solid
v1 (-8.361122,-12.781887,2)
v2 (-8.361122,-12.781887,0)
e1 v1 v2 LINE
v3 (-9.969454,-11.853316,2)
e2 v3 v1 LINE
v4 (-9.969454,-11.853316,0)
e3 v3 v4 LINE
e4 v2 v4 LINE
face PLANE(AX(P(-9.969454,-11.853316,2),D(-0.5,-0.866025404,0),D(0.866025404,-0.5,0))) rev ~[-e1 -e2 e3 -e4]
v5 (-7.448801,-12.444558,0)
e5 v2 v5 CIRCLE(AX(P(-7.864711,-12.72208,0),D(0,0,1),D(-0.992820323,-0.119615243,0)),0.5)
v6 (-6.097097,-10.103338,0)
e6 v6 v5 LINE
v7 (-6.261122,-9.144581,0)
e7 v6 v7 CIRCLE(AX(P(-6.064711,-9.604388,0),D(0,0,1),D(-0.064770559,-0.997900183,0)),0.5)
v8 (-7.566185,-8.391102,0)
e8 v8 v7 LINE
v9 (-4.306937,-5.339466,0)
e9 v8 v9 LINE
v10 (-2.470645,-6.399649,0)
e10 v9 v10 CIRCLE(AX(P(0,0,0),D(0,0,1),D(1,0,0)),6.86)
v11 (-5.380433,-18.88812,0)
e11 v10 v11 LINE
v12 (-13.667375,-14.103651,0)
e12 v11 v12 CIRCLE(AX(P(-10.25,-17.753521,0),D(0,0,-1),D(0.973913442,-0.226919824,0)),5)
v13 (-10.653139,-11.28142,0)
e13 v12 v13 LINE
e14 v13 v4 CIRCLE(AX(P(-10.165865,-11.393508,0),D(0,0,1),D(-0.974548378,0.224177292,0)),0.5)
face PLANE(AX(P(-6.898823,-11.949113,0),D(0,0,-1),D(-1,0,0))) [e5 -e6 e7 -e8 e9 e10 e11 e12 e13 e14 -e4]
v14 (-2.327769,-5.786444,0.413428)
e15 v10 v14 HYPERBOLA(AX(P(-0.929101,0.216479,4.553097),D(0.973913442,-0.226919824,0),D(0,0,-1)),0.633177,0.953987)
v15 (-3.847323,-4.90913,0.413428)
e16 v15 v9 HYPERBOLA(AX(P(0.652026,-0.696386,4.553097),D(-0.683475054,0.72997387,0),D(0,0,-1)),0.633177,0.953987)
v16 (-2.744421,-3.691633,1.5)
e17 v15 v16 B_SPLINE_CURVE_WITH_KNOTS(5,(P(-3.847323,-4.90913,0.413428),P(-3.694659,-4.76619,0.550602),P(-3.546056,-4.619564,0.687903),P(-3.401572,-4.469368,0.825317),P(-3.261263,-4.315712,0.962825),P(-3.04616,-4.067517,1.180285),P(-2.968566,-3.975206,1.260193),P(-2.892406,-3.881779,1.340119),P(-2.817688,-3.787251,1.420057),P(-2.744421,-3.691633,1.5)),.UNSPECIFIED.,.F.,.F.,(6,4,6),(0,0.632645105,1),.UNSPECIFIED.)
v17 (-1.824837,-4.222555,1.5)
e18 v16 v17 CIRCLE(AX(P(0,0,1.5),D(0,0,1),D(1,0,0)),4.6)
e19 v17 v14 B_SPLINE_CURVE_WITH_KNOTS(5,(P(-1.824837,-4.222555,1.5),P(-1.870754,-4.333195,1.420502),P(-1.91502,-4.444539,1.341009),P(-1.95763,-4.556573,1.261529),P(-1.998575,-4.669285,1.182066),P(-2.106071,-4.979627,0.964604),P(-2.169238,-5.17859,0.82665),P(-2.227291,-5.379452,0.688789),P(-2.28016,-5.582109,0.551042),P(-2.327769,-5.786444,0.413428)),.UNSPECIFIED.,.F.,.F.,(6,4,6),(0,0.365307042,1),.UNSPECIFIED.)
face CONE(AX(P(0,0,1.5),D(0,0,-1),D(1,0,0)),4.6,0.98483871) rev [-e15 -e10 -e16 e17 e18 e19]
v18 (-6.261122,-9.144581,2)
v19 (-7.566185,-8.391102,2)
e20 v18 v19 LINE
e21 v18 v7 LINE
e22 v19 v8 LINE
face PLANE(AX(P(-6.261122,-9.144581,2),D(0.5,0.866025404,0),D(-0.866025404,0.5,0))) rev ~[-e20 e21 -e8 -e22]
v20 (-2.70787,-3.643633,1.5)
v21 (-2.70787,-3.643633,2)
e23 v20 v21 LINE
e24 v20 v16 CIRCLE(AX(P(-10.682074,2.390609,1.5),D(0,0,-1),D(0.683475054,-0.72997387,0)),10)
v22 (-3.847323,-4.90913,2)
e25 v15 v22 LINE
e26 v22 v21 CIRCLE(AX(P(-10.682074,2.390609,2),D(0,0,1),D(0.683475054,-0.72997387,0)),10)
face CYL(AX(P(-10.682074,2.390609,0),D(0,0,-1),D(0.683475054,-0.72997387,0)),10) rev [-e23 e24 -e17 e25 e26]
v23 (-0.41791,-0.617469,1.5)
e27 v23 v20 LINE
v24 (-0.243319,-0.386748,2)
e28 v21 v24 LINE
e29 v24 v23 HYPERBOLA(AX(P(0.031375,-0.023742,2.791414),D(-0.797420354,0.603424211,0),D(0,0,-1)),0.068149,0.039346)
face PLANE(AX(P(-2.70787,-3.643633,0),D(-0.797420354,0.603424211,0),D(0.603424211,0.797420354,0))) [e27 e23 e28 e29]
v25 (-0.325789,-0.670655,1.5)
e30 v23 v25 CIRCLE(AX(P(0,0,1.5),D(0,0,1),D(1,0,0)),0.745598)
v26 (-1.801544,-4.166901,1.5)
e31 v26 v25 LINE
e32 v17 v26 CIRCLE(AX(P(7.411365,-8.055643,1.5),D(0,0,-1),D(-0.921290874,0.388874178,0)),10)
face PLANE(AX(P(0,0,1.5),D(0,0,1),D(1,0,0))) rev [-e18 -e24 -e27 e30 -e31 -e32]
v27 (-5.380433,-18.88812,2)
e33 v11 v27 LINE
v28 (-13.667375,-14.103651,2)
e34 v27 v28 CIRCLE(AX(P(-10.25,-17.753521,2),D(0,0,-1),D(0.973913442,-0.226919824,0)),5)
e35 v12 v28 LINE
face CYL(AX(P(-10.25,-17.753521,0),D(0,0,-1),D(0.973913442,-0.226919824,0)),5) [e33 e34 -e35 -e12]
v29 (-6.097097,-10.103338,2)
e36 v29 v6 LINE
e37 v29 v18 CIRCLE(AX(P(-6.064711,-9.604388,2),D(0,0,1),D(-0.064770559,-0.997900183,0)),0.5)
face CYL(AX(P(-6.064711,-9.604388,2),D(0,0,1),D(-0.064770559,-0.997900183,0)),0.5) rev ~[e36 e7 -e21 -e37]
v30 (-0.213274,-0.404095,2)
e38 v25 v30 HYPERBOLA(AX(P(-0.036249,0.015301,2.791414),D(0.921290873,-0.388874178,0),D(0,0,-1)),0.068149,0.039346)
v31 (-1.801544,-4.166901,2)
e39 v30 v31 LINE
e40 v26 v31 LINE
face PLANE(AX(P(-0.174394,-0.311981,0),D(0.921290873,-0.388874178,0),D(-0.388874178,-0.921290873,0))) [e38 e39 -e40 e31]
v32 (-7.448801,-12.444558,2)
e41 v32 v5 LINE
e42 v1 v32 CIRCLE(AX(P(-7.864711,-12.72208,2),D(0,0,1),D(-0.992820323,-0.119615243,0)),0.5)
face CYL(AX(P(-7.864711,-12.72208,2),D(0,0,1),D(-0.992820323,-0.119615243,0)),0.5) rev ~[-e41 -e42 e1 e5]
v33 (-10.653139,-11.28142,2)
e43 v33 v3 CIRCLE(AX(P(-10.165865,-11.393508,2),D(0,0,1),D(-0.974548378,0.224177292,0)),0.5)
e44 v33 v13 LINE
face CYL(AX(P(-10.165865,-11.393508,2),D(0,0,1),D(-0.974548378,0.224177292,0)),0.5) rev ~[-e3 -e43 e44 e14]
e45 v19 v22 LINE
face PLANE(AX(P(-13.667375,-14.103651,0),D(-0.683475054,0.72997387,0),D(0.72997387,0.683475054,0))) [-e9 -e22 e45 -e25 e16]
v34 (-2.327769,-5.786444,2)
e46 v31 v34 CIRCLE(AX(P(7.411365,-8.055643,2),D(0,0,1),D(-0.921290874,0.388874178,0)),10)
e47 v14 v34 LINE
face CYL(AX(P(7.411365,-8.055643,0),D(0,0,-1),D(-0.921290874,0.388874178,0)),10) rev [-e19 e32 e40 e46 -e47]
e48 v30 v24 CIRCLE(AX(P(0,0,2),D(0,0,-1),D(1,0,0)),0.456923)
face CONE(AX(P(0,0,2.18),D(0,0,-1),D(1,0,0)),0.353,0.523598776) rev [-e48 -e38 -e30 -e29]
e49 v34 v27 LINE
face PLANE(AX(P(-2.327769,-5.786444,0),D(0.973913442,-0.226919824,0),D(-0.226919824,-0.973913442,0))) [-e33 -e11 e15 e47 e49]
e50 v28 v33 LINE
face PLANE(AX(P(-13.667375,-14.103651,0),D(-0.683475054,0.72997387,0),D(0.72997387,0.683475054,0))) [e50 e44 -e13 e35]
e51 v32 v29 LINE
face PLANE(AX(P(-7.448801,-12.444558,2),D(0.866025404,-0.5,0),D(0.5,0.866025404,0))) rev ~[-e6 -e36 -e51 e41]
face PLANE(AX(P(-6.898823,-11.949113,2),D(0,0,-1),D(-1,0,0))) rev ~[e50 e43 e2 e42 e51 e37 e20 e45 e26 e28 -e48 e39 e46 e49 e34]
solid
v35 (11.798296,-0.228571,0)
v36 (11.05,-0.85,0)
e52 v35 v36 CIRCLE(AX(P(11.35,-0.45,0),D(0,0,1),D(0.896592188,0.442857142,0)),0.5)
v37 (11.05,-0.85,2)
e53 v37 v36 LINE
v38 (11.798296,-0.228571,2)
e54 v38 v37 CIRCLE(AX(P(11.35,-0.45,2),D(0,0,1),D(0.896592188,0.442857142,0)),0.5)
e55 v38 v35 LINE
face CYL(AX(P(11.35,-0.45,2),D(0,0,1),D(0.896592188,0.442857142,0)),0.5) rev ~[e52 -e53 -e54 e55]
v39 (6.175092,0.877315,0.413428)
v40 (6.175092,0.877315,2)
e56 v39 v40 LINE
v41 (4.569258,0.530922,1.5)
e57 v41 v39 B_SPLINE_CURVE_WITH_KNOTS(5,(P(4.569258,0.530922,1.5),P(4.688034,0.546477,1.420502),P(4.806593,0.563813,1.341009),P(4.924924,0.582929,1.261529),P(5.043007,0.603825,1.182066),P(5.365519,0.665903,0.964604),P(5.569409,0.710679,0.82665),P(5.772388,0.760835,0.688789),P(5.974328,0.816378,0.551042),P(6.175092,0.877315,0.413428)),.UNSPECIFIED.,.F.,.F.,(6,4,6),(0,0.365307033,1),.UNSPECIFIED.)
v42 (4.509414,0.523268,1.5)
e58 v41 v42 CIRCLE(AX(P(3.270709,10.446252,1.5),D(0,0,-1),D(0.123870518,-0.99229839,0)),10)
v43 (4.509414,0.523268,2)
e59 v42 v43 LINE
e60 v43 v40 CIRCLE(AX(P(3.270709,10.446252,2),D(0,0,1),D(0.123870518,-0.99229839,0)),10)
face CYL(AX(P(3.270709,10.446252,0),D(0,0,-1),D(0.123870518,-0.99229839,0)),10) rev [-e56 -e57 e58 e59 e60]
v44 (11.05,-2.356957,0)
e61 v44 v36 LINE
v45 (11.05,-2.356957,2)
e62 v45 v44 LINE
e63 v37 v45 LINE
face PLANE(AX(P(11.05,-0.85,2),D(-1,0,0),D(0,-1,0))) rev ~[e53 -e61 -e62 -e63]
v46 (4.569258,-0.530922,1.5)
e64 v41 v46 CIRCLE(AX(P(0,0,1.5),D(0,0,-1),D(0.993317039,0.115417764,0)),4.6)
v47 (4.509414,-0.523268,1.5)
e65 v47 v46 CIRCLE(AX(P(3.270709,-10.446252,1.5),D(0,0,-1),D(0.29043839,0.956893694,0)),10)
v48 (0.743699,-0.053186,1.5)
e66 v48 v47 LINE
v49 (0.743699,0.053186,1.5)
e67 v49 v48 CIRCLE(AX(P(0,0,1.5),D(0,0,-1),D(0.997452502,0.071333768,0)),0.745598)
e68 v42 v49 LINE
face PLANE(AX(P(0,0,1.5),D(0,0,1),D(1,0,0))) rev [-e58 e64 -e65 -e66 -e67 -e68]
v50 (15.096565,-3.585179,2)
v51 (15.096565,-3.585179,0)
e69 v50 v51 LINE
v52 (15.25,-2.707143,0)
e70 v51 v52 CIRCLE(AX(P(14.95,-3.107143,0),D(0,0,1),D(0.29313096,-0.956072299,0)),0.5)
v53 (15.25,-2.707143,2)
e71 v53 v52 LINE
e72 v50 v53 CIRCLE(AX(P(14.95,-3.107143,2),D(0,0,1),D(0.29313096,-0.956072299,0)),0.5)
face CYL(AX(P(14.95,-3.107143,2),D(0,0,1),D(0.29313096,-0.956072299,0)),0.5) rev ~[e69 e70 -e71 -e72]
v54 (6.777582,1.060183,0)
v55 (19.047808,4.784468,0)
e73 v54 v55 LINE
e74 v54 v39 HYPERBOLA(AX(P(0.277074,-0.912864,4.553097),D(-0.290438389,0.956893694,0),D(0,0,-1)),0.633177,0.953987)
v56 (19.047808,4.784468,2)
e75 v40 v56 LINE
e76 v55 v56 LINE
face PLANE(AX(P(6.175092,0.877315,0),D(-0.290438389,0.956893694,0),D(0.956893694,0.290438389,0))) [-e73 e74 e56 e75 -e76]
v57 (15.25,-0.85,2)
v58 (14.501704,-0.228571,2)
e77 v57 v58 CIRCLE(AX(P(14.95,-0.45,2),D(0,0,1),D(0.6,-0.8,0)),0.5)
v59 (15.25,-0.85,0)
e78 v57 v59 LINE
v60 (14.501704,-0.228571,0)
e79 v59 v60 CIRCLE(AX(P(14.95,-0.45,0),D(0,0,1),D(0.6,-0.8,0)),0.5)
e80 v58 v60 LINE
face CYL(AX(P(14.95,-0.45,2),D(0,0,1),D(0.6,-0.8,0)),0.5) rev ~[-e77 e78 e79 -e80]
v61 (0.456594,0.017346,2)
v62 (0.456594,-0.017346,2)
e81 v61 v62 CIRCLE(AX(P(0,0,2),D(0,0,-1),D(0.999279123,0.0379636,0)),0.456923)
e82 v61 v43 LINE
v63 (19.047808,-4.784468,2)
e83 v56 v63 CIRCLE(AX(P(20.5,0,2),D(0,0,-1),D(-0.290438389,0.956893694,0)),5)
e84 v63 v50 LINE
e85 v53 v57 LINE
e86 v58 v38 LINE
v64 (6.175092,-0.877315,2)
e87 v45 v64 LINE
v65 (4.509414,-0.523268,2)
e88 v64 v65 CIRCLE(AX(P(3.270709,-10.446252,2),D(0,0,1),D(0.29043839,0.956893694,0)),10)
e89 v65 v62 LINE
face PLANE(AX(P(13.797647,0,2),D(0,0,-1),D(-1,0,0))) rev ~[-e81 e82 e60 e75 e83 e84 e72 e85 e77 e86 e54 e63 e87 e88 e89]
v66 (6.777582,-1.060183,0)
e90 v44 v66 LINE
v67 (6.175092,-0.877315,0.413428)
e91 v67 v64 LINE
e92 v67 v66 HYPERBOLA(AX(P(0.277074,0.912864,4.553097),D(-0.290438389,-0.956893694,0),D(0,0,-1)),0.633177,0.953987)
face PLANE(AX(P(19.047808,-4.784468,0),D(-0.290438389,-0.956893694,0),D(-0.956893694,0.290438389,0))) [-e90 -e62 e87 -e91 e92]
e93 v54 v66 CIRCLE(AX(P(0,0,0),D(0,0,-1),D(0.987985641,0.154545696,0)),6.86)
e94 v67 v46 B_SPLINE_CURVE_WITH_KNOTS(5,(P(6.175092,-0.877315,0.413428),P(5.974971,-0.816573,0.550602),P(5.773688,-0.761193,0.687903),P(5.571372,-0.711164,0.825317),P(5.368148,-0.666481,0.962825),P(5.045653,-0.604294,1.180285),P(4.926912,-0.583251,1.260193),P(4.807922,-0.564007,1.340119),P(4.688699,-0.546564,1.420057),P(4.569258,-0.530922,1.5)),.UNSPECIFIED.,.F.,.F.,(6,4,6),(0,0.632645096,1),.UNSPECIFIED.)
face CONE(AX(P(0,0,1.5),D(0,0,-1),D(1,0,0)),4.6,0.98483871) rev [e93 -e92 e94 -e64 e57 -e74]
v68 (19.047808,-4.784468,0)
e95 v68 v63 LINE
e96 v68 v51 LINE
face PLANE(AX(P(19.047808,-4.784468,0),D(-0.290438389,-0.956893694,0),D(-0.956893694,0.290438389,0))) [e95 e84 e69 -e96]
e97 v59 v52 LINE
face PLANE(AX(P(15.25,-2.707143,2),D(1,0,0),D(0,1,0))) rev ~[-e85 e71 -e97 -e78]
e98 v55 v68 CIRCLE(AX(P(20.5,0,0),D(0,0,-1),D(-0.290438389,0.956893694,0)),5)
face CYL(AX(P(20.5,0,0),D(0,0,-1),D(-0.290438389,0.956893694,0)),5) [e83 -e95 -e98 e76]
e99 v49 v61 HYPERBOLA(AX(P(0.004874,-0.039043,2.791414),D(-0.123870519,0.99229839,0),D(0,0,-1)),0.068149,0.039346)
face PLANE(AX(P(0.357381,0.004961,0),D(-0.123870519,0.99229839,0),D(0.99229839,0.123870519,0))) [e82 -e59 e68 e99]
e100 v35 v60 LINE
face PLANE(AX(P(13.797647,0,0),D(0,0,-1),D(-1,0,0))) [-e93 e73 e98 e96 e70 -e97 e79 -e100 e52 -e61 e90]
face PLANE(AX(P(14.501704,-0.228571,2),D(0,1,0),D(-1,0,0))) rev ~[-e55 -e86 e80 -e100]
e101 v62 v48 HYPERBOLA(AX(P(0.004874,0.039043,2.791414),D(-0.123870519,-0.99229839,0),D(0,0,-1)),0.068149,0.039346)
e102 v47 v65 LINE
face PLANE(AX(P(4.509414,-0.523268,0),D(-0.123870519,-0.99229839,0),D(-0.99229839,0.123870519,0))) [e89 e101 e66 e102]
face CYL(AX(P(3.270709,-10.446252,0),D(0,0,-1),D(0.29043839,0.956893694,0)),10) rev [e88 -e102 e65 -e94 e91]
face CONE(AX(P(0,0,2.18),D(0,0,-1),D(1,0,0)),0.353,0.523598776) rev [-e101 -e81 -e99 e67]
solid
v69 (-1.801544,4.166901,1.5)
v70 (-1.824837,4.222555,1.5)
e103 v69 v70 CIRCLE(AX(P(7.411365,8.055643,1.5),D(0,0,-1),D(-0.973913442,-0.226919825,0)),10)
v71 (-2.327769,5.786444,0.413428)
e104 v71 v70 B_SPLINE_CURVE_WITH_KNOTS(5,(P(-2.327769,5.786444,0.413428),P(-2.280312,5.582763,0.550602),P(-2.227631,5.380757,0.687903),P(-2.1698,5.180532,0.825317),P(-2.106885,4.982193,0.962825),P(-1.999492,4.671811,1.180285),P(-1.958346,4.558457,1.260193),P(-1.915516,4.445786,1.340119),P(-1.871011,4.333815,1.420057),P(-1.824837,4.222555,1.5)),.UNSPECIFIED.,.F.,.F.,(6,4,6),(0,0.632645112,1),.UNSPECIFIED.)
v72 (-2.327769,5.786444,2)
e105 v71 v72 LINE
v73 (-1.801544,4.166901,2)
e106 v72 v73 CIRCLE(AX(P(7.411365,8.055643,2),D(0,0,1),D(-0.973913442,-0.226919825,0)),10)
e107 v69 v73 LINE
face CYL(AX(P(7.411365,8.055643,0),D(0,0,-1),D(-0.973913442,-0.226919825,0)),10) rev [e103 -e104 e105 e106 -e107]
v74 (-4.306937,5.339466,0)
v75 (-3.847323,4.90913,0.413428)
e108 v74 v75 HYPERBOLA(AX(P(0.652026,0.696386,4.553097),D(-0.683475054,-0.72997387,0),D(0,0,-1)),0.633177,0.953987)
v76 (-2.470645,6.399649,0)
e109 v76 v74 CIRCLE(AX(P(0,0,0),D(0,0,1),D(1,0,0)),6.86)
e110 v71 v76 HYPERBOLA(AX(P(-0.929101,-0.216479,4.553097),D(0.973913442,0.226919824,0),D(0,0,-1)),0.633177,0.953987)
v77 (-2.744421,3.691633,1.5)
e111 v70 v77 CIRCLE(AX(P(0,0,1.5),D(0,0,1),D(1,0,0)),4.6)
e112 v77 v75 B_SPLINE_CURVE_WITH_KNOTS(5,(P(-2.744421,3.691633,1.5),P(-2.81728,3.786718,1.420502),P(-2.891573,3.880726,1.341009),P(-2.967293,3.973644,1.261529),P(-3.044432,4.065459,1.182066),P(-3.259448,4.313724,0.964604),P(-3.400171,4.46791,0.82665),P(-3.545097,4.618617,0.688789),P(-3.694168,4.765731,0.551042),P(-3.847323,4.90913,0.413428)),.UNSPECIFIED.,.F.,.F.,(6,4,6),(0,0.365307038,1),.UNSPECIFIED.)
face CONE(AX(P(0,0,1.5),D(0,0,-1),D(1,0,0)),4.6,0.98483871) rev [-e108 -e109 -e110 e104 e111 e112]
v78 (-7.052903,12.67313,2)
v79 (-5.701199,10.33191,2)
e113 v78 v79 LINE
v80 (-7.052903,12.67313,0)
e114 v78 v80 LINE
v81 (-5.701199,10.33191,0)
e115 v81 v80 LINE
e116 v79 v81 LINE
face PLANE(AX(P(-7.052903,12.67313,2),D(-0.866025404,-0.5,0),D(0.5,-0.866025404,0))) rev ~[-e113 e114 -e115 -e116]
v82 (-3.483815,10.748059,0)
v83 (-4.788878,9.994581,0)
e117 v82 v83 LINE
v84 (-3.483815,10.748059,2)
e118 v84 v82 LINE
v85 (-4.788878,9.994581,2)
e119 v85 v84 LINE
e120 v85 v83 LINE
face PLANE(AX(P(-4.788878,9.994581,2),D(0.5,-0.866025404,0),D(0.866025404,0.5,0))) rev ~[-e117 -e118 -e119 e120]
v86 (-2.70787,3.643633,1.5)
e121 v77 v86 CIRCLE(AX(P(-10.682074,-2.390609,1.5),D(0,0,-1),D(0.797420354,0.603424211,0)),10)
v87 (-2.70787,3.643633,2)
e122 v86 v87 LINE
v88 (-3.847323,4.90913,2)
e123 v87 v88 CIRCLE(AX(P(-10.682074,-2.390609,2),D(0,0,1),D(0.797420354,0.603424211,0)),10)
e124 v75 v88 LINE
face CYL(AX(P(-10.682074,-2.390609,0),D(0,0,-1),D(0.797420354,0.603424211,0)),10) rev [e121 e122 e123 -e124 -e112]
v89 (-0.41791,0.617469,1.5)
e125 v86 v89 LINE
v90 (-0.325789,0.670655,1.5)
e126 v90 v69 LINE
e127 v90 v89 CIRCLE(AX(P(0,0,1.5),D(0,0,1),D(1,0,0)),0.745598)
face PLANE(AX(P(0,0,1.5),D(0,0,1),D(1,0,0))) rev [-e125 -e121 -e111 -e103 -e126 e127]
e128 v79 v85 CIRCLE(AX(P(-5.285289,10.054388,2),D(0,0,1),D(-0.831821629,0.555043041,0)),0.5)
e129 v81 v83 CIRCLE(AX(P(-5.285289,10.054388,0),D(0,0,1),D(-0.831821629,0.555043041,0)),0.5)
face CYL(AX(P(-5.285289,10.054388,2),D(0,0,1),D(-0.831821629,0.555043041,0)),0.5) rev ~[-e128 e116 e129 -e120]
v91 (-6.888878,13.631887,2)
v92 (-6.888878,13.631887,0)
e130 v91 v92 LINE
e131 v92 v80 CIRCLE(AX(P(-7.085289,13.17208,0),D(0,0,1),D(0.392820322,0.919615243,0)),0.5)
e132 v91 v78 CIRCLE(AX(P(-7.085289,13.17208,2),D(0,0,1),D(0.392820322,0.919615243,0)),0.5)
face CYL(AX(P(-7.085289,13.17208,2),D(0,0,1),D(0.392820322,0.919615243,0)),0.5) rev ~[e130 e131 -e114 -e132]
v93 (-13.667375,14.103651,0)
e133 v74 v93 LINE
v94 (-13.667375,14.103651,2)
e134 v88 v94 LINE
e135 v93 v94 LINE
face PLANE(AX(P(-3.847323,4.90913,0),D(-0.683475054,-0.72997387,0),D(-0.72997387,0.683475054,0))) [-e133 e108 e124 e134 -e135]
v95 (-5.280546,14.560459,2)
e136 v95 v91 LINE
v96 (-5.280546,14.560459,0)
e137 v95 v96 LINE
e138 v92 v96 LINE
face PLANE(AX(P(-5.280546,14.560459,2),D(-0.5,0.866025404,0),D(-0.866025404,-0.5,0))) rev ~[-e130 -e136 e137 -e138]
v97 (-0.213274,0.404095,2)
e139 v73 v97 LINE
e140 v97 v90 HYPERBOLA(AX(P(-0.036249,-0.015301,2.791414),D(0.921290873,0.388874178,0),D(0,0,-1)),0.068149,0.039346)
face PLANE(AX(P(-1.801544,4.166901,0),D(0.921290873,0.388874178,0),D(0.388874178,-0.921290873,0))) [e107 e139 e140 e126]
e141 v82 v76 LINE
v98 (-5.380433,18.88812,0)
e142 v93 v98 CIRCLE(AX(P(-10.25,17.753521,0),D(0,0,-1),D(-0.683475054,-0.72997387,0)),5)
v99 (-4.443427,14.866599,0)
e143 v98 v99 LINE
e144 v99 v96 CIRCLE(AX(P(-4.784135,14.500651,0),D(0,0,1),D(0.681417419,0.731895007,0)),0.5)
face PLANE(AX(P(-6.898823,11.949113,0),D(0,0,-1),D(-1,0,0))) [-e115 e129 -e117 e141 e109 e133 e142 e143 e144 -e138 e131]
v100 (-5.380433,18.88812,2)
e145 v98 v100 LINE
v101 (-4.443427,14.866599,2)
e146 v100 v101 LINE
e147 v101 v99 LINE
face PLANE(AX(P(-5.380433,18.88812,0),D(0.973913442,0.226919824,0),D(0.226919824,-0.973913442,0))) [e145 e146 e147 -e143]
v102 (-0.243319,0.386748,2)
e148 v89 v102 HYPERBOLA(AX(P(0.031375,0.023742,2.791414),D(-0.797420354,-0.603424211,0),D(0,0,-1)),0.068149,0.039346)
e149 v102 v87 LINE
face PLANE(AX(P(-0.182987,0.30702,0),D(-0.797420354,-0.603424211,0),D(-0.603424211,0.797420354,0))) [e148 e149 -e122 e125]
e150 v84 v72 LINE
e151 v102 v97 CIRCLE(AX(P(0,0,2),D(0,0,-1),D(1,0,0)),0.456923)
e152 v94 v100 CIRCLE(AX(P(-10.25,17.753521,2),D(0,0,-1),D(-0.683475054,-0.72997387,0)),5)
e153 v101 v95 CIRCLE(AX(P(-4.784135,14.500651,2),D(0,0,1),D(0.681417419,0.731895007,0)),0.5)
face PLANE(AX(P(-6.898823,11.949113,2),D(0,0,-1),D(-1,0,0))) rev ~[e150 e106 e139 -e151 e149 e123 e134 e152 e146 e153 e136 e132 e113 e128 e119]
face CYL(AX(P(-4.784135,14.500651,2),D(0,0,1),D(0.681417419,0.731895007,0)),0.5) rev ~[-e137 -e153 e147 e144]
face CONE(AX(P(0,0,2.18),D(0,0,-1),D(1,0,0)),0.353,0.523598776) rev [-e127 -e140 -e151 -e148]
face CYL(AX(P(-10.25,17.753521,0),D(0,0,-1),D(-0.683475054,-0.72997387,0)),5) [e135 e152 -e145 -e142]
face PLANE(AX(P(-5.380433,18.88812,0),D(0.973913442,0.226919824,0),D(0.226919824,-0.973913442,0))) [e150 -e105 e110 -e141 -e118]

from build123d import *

# Parameters (mm, degrees)
EXTRUDE_1_DEPTH     = 2
EXTRUDE_1_2_DEPTH   = 2
EXTRUDE_1_3_DEPTH   = 2
CUT_EXTRUDE_1_DEPTH = 35.234086928


with BuildPart() as part:
    # 草圖1 → 填料-伸長1 (new body)
    with BuildSketch(Plane.XY):
        with BuildLine():
            Line((0.357380647, 0.004961492), (4.50941379, 0.523267787))
            ThreePointArc((4.50941379, 0.523267787), (5.349803134, 0.664770922), (6.175092484, 0.877314741))
            Line((6.175092484, 0.877314741), (19.047808057, 4.784468472))
            ThreePointArc((19.047808057, 4.784468472), (25.5, 0), (19.047808057, -4.784468472))
            Line((19.047808057, -4.784468472), (6.175092484, -0.877314741))
            ThreePointArc((6.175092484, -0.877314741), (5.349803134, -0.664770922), (4.50941379, -0.523267787))
            Line((4.50941379, -0.523267787), (0.357380647, -0.004961492))
            ThreePointArc((0.357380647, -0.004961492), (0.353, 0), (0.357380647, 0.004961492))
        make_face()
    extrude(amount=EXTRUDE_1_DEPTH)


with BuildPart() as body_2:
    # 草圖1 → Extrude 1 2 (new body)
    with BuildSketch(Plane.XY):
        with BuildLine():
            Line((-2.327769389, -5.786444332), (-5.380432788, -18.8881199))
            ThreePointArc((-5.380432788, -18.8881199), (-12.75, -22.083647797), (-13.667375269, -14.103651428))
            Line((-13.667375269, -14.103651428), (-3.847323094, -4.909129591))
            ThreePointArc((-3.847323094, -4.909129591), (-3.250610073, -4.300679958), (-2.707870091, -3.643633005))
            Line((-2.707870091, -3.643633005), (-0.182987102, -0.307019973))
            ThreePointArc((-0.182987102, -0.307019973), (-0.1765, -0.305706968), (-0.174393546, -0.311981465))
            Line((-0.174393546, -0.311981465), (-1.801543699, -4.166900792))
            ThreePointArc((-1.801543699, -4.166900792), (-2.09919306, -4.96545088), (-2.327769389, -5.786444332))
        make_face()
    extrude(amount=EXTRUDE_1_2_DEPTH)


with BuildPart() as body_3:
    # 草圖1 → Extrude 1 3 (new body)
    with BuildSketch(Plane.XY):
        with BuildLine():
            Line((-3.847323094, 4.909129591), (-13.667375269, 14.103651428))
            ThreePointArc((-13.667375269, 14.103651428), (-12.75, 22.083647797), (-5.380432788, 18.8881199))
            Line((-5.380432788, 18.8881199), (-2.327769389, 5.786444332))
            ThreePointArc((-2.327769389, 5.786444332), (-2.09919306, 4.96545088), (-1.801543699, 4.166900792))
            Line((-1.801543699, 4.166900792), (-0.174393546, 0.311981465))
            ThreePointArc((-0.174393546, 0.311981465), (-0.1765, 0.305706968), (-0.182987102, 0.307019973))
            Line((-0.182987102, 0.307019973), (-2.707870091, 3.643633005))
            ThreePointArc((-2.707870091, 3.643633005), (-3.250610073, 4.300679958), (-3.847323094, 4.909129591))
        make_face()
    extrude(amount=EXTRUDE_1_3_DEPTH)


with BuildPart() as cut_extrude_1_tool:
    # 草圖2 → 除料-伸長1 (new, through all)
    with BuildSketch(Plane.XY.offset(2)):
        with BuildLine():
            ThreePointArc((11.798296094, -0.228571429), (11.03056096, -0.065346), (11.05, -0.85))
            Line((11.05, -0.85), (11.05, -2.356956933))
            Line((11.05, -2.356956933), (15.09656548, -3.585179007))
            ThreePointArc((15.09656548, -3.585179007), (15.442536346, -3.193212295), (15.25, -2.707142857))
            Line((15.25, -2.707142857), (15.25, -0.85))
            ThreePointArc((15.25, -0.85), (15.26943904, -0.065346), (14.501703906, -0.228571429))
            Line((14.501703906, -0.228571429), (11.798296094, -0.228571429))
        make_face()
        with BuildLine():
            ThreePointArc((-6.888878407, 13.631887408), (-7.578128224, 13.25639511), (-7.052903289, 12.673129695))
            Line((-7.052903289, 12.673129695), (-5.701199383, 10.331909853))
            ThreePointArc((-5.701199383, 10.331909853), (-5.458689184, 9.585419009), (-4.788878407, 9.994580712))
            Line((-4.788878407, 9.994580712), (-3.48381542, 10.748059178))
            Line((-3.48381542, 10.748059178), (-4.443426643, 14.866598719))
            ThreePointArc((-4.443426643, 14.866598719), (-4.955865206, 14.970234922), (-5.280545514, 14.560458836))
            Line((-5.280545514, 14.560458836), (-6.888878407, 13.631887408))
        make_face()
        with BuildLine():
            ThreePointArc((-6.097096711, -10.103338424), (-5.571871776, -9.520073009), (-6.261121593, -9.144580712))
            Line((-6.261121593, -9.144580712), (-7.56618458, -8.391102245))
            Line((-7.56618458, -8.391102245), (-10.653138837, -11.281419712))
            ThreePointArc((-10.653138837, -11.281419712), (-10.48667114, -11.777022627), (-9.969454486, -11.853315979))
            Line((-9.969454486, -11.853315979), (-8.361121593, -12.781887408))
            ThreePointArc((-8.361121593, -12.781887408), (-7.691310816, -13.19104911), (-7.448800617, -12.444558267))
            Line((-7.448800617, -12.444558267), (-6.097096711, -10.103338424))
        make_face()
    extrude(amount=-CUT_EXTRUDE_1_DEPTH)


with BuildPart() as part_1:
    add(part.part)

    # 除料-伸長1: cut by cut_extrude_1_tool
    add(cut_extrude_1_tool.part, mode=Mode.SUBTRACT)


with BuildPart() as body_2_1:
    add(body_2.part)

    # 除料-伸長1: cut by cut_extrude_1_tool
    add(cut_extrude_1_tool.part, mode=Mode.SUBTRACT)


with BuildPart() as body_3_1:
    add(body_3.part)

    # 除料-伸長1: cut by cut_extrude_1_tool
    add(cut_extrude_1_tool.part, mode=Mode.SUBTRACT)


with BuildPart() as cut_revolve_2_tool:
    # 草圖3 → 除料-旋轉2 (revolve)
    with BuildSketch(Plane(origin=(0, 0, 0), x_dir=(1, 0, 0), z_dir=(0, 1, 0))):
        Polygon((0, -1.5), (4.6, -1.5), (6.86, 0), (0, 0), align=None)
    revolve(axis=Axis((0, 0, -1.706722595), (0, 0, 1)))


with BuildPart() as part_2:
    add(part_1.part)

    # 除料-旋轉2: cut by cut_revolve_2_tool
    add(cut_revolve_2_tool.part, mode=Mode.SUBTRACT)


with BuildPart() as body_2_2:
    add(body_2_1.part)

    # 除料-旋轉2: cut by cut_revolve_2_tool
    add(cut_revolve_2_tool.part, mode=Mode.SUBTRACT)


with BuildPart() as body_3_2:
    add(body_3_1.part)

    # 除料-旋轉2: cut by cut_revolve_2_tool
    add(cut_revolve_2_tool.part, mode=Mode.SUBTRACT)


with BuildPart() as cut_revolve_4_tool:
    # 草圖4 → 除料-旋轉4 (revolve)
    with BuildSketch(Plane(origin=(0, 0, 0), x_dir=(1, 0, 0), z_dir=(0, 1, 0))):
        Polygon((0.353, -2.18), (0.745598183, -1.5), (0.353, -1.5), align=None)
    revolve(axis=Axis((0, 0, -0.874986171), (0, 0, 1)))


with BuildPart() as part_3:
    add(part_2.part)

    # 除料-旋轉4: cut by cut_revolve_4_tool
    add(cut_revolve_4_tool.part, mode=Mode.SUBTRACT)


with BuildPart() as body_2_3:
    add(body_2_2.part)

    # 除料-旋轉4: cut by cut_revolve_4_tool
    add(cut_revolve_4_tool.part, mode=Mode.SUBTRACT)


with BuildPart() as body_3_3:
    add(body_3_2.part)

    # 除料-旋轉4: cut by cut_revolve_4_tool
    add(cut_revolve_4_tool.part, mode=Mode.SUBTRACT)


solid = Compound([part_3.part, body_2_3.part, body_3_3.part])
